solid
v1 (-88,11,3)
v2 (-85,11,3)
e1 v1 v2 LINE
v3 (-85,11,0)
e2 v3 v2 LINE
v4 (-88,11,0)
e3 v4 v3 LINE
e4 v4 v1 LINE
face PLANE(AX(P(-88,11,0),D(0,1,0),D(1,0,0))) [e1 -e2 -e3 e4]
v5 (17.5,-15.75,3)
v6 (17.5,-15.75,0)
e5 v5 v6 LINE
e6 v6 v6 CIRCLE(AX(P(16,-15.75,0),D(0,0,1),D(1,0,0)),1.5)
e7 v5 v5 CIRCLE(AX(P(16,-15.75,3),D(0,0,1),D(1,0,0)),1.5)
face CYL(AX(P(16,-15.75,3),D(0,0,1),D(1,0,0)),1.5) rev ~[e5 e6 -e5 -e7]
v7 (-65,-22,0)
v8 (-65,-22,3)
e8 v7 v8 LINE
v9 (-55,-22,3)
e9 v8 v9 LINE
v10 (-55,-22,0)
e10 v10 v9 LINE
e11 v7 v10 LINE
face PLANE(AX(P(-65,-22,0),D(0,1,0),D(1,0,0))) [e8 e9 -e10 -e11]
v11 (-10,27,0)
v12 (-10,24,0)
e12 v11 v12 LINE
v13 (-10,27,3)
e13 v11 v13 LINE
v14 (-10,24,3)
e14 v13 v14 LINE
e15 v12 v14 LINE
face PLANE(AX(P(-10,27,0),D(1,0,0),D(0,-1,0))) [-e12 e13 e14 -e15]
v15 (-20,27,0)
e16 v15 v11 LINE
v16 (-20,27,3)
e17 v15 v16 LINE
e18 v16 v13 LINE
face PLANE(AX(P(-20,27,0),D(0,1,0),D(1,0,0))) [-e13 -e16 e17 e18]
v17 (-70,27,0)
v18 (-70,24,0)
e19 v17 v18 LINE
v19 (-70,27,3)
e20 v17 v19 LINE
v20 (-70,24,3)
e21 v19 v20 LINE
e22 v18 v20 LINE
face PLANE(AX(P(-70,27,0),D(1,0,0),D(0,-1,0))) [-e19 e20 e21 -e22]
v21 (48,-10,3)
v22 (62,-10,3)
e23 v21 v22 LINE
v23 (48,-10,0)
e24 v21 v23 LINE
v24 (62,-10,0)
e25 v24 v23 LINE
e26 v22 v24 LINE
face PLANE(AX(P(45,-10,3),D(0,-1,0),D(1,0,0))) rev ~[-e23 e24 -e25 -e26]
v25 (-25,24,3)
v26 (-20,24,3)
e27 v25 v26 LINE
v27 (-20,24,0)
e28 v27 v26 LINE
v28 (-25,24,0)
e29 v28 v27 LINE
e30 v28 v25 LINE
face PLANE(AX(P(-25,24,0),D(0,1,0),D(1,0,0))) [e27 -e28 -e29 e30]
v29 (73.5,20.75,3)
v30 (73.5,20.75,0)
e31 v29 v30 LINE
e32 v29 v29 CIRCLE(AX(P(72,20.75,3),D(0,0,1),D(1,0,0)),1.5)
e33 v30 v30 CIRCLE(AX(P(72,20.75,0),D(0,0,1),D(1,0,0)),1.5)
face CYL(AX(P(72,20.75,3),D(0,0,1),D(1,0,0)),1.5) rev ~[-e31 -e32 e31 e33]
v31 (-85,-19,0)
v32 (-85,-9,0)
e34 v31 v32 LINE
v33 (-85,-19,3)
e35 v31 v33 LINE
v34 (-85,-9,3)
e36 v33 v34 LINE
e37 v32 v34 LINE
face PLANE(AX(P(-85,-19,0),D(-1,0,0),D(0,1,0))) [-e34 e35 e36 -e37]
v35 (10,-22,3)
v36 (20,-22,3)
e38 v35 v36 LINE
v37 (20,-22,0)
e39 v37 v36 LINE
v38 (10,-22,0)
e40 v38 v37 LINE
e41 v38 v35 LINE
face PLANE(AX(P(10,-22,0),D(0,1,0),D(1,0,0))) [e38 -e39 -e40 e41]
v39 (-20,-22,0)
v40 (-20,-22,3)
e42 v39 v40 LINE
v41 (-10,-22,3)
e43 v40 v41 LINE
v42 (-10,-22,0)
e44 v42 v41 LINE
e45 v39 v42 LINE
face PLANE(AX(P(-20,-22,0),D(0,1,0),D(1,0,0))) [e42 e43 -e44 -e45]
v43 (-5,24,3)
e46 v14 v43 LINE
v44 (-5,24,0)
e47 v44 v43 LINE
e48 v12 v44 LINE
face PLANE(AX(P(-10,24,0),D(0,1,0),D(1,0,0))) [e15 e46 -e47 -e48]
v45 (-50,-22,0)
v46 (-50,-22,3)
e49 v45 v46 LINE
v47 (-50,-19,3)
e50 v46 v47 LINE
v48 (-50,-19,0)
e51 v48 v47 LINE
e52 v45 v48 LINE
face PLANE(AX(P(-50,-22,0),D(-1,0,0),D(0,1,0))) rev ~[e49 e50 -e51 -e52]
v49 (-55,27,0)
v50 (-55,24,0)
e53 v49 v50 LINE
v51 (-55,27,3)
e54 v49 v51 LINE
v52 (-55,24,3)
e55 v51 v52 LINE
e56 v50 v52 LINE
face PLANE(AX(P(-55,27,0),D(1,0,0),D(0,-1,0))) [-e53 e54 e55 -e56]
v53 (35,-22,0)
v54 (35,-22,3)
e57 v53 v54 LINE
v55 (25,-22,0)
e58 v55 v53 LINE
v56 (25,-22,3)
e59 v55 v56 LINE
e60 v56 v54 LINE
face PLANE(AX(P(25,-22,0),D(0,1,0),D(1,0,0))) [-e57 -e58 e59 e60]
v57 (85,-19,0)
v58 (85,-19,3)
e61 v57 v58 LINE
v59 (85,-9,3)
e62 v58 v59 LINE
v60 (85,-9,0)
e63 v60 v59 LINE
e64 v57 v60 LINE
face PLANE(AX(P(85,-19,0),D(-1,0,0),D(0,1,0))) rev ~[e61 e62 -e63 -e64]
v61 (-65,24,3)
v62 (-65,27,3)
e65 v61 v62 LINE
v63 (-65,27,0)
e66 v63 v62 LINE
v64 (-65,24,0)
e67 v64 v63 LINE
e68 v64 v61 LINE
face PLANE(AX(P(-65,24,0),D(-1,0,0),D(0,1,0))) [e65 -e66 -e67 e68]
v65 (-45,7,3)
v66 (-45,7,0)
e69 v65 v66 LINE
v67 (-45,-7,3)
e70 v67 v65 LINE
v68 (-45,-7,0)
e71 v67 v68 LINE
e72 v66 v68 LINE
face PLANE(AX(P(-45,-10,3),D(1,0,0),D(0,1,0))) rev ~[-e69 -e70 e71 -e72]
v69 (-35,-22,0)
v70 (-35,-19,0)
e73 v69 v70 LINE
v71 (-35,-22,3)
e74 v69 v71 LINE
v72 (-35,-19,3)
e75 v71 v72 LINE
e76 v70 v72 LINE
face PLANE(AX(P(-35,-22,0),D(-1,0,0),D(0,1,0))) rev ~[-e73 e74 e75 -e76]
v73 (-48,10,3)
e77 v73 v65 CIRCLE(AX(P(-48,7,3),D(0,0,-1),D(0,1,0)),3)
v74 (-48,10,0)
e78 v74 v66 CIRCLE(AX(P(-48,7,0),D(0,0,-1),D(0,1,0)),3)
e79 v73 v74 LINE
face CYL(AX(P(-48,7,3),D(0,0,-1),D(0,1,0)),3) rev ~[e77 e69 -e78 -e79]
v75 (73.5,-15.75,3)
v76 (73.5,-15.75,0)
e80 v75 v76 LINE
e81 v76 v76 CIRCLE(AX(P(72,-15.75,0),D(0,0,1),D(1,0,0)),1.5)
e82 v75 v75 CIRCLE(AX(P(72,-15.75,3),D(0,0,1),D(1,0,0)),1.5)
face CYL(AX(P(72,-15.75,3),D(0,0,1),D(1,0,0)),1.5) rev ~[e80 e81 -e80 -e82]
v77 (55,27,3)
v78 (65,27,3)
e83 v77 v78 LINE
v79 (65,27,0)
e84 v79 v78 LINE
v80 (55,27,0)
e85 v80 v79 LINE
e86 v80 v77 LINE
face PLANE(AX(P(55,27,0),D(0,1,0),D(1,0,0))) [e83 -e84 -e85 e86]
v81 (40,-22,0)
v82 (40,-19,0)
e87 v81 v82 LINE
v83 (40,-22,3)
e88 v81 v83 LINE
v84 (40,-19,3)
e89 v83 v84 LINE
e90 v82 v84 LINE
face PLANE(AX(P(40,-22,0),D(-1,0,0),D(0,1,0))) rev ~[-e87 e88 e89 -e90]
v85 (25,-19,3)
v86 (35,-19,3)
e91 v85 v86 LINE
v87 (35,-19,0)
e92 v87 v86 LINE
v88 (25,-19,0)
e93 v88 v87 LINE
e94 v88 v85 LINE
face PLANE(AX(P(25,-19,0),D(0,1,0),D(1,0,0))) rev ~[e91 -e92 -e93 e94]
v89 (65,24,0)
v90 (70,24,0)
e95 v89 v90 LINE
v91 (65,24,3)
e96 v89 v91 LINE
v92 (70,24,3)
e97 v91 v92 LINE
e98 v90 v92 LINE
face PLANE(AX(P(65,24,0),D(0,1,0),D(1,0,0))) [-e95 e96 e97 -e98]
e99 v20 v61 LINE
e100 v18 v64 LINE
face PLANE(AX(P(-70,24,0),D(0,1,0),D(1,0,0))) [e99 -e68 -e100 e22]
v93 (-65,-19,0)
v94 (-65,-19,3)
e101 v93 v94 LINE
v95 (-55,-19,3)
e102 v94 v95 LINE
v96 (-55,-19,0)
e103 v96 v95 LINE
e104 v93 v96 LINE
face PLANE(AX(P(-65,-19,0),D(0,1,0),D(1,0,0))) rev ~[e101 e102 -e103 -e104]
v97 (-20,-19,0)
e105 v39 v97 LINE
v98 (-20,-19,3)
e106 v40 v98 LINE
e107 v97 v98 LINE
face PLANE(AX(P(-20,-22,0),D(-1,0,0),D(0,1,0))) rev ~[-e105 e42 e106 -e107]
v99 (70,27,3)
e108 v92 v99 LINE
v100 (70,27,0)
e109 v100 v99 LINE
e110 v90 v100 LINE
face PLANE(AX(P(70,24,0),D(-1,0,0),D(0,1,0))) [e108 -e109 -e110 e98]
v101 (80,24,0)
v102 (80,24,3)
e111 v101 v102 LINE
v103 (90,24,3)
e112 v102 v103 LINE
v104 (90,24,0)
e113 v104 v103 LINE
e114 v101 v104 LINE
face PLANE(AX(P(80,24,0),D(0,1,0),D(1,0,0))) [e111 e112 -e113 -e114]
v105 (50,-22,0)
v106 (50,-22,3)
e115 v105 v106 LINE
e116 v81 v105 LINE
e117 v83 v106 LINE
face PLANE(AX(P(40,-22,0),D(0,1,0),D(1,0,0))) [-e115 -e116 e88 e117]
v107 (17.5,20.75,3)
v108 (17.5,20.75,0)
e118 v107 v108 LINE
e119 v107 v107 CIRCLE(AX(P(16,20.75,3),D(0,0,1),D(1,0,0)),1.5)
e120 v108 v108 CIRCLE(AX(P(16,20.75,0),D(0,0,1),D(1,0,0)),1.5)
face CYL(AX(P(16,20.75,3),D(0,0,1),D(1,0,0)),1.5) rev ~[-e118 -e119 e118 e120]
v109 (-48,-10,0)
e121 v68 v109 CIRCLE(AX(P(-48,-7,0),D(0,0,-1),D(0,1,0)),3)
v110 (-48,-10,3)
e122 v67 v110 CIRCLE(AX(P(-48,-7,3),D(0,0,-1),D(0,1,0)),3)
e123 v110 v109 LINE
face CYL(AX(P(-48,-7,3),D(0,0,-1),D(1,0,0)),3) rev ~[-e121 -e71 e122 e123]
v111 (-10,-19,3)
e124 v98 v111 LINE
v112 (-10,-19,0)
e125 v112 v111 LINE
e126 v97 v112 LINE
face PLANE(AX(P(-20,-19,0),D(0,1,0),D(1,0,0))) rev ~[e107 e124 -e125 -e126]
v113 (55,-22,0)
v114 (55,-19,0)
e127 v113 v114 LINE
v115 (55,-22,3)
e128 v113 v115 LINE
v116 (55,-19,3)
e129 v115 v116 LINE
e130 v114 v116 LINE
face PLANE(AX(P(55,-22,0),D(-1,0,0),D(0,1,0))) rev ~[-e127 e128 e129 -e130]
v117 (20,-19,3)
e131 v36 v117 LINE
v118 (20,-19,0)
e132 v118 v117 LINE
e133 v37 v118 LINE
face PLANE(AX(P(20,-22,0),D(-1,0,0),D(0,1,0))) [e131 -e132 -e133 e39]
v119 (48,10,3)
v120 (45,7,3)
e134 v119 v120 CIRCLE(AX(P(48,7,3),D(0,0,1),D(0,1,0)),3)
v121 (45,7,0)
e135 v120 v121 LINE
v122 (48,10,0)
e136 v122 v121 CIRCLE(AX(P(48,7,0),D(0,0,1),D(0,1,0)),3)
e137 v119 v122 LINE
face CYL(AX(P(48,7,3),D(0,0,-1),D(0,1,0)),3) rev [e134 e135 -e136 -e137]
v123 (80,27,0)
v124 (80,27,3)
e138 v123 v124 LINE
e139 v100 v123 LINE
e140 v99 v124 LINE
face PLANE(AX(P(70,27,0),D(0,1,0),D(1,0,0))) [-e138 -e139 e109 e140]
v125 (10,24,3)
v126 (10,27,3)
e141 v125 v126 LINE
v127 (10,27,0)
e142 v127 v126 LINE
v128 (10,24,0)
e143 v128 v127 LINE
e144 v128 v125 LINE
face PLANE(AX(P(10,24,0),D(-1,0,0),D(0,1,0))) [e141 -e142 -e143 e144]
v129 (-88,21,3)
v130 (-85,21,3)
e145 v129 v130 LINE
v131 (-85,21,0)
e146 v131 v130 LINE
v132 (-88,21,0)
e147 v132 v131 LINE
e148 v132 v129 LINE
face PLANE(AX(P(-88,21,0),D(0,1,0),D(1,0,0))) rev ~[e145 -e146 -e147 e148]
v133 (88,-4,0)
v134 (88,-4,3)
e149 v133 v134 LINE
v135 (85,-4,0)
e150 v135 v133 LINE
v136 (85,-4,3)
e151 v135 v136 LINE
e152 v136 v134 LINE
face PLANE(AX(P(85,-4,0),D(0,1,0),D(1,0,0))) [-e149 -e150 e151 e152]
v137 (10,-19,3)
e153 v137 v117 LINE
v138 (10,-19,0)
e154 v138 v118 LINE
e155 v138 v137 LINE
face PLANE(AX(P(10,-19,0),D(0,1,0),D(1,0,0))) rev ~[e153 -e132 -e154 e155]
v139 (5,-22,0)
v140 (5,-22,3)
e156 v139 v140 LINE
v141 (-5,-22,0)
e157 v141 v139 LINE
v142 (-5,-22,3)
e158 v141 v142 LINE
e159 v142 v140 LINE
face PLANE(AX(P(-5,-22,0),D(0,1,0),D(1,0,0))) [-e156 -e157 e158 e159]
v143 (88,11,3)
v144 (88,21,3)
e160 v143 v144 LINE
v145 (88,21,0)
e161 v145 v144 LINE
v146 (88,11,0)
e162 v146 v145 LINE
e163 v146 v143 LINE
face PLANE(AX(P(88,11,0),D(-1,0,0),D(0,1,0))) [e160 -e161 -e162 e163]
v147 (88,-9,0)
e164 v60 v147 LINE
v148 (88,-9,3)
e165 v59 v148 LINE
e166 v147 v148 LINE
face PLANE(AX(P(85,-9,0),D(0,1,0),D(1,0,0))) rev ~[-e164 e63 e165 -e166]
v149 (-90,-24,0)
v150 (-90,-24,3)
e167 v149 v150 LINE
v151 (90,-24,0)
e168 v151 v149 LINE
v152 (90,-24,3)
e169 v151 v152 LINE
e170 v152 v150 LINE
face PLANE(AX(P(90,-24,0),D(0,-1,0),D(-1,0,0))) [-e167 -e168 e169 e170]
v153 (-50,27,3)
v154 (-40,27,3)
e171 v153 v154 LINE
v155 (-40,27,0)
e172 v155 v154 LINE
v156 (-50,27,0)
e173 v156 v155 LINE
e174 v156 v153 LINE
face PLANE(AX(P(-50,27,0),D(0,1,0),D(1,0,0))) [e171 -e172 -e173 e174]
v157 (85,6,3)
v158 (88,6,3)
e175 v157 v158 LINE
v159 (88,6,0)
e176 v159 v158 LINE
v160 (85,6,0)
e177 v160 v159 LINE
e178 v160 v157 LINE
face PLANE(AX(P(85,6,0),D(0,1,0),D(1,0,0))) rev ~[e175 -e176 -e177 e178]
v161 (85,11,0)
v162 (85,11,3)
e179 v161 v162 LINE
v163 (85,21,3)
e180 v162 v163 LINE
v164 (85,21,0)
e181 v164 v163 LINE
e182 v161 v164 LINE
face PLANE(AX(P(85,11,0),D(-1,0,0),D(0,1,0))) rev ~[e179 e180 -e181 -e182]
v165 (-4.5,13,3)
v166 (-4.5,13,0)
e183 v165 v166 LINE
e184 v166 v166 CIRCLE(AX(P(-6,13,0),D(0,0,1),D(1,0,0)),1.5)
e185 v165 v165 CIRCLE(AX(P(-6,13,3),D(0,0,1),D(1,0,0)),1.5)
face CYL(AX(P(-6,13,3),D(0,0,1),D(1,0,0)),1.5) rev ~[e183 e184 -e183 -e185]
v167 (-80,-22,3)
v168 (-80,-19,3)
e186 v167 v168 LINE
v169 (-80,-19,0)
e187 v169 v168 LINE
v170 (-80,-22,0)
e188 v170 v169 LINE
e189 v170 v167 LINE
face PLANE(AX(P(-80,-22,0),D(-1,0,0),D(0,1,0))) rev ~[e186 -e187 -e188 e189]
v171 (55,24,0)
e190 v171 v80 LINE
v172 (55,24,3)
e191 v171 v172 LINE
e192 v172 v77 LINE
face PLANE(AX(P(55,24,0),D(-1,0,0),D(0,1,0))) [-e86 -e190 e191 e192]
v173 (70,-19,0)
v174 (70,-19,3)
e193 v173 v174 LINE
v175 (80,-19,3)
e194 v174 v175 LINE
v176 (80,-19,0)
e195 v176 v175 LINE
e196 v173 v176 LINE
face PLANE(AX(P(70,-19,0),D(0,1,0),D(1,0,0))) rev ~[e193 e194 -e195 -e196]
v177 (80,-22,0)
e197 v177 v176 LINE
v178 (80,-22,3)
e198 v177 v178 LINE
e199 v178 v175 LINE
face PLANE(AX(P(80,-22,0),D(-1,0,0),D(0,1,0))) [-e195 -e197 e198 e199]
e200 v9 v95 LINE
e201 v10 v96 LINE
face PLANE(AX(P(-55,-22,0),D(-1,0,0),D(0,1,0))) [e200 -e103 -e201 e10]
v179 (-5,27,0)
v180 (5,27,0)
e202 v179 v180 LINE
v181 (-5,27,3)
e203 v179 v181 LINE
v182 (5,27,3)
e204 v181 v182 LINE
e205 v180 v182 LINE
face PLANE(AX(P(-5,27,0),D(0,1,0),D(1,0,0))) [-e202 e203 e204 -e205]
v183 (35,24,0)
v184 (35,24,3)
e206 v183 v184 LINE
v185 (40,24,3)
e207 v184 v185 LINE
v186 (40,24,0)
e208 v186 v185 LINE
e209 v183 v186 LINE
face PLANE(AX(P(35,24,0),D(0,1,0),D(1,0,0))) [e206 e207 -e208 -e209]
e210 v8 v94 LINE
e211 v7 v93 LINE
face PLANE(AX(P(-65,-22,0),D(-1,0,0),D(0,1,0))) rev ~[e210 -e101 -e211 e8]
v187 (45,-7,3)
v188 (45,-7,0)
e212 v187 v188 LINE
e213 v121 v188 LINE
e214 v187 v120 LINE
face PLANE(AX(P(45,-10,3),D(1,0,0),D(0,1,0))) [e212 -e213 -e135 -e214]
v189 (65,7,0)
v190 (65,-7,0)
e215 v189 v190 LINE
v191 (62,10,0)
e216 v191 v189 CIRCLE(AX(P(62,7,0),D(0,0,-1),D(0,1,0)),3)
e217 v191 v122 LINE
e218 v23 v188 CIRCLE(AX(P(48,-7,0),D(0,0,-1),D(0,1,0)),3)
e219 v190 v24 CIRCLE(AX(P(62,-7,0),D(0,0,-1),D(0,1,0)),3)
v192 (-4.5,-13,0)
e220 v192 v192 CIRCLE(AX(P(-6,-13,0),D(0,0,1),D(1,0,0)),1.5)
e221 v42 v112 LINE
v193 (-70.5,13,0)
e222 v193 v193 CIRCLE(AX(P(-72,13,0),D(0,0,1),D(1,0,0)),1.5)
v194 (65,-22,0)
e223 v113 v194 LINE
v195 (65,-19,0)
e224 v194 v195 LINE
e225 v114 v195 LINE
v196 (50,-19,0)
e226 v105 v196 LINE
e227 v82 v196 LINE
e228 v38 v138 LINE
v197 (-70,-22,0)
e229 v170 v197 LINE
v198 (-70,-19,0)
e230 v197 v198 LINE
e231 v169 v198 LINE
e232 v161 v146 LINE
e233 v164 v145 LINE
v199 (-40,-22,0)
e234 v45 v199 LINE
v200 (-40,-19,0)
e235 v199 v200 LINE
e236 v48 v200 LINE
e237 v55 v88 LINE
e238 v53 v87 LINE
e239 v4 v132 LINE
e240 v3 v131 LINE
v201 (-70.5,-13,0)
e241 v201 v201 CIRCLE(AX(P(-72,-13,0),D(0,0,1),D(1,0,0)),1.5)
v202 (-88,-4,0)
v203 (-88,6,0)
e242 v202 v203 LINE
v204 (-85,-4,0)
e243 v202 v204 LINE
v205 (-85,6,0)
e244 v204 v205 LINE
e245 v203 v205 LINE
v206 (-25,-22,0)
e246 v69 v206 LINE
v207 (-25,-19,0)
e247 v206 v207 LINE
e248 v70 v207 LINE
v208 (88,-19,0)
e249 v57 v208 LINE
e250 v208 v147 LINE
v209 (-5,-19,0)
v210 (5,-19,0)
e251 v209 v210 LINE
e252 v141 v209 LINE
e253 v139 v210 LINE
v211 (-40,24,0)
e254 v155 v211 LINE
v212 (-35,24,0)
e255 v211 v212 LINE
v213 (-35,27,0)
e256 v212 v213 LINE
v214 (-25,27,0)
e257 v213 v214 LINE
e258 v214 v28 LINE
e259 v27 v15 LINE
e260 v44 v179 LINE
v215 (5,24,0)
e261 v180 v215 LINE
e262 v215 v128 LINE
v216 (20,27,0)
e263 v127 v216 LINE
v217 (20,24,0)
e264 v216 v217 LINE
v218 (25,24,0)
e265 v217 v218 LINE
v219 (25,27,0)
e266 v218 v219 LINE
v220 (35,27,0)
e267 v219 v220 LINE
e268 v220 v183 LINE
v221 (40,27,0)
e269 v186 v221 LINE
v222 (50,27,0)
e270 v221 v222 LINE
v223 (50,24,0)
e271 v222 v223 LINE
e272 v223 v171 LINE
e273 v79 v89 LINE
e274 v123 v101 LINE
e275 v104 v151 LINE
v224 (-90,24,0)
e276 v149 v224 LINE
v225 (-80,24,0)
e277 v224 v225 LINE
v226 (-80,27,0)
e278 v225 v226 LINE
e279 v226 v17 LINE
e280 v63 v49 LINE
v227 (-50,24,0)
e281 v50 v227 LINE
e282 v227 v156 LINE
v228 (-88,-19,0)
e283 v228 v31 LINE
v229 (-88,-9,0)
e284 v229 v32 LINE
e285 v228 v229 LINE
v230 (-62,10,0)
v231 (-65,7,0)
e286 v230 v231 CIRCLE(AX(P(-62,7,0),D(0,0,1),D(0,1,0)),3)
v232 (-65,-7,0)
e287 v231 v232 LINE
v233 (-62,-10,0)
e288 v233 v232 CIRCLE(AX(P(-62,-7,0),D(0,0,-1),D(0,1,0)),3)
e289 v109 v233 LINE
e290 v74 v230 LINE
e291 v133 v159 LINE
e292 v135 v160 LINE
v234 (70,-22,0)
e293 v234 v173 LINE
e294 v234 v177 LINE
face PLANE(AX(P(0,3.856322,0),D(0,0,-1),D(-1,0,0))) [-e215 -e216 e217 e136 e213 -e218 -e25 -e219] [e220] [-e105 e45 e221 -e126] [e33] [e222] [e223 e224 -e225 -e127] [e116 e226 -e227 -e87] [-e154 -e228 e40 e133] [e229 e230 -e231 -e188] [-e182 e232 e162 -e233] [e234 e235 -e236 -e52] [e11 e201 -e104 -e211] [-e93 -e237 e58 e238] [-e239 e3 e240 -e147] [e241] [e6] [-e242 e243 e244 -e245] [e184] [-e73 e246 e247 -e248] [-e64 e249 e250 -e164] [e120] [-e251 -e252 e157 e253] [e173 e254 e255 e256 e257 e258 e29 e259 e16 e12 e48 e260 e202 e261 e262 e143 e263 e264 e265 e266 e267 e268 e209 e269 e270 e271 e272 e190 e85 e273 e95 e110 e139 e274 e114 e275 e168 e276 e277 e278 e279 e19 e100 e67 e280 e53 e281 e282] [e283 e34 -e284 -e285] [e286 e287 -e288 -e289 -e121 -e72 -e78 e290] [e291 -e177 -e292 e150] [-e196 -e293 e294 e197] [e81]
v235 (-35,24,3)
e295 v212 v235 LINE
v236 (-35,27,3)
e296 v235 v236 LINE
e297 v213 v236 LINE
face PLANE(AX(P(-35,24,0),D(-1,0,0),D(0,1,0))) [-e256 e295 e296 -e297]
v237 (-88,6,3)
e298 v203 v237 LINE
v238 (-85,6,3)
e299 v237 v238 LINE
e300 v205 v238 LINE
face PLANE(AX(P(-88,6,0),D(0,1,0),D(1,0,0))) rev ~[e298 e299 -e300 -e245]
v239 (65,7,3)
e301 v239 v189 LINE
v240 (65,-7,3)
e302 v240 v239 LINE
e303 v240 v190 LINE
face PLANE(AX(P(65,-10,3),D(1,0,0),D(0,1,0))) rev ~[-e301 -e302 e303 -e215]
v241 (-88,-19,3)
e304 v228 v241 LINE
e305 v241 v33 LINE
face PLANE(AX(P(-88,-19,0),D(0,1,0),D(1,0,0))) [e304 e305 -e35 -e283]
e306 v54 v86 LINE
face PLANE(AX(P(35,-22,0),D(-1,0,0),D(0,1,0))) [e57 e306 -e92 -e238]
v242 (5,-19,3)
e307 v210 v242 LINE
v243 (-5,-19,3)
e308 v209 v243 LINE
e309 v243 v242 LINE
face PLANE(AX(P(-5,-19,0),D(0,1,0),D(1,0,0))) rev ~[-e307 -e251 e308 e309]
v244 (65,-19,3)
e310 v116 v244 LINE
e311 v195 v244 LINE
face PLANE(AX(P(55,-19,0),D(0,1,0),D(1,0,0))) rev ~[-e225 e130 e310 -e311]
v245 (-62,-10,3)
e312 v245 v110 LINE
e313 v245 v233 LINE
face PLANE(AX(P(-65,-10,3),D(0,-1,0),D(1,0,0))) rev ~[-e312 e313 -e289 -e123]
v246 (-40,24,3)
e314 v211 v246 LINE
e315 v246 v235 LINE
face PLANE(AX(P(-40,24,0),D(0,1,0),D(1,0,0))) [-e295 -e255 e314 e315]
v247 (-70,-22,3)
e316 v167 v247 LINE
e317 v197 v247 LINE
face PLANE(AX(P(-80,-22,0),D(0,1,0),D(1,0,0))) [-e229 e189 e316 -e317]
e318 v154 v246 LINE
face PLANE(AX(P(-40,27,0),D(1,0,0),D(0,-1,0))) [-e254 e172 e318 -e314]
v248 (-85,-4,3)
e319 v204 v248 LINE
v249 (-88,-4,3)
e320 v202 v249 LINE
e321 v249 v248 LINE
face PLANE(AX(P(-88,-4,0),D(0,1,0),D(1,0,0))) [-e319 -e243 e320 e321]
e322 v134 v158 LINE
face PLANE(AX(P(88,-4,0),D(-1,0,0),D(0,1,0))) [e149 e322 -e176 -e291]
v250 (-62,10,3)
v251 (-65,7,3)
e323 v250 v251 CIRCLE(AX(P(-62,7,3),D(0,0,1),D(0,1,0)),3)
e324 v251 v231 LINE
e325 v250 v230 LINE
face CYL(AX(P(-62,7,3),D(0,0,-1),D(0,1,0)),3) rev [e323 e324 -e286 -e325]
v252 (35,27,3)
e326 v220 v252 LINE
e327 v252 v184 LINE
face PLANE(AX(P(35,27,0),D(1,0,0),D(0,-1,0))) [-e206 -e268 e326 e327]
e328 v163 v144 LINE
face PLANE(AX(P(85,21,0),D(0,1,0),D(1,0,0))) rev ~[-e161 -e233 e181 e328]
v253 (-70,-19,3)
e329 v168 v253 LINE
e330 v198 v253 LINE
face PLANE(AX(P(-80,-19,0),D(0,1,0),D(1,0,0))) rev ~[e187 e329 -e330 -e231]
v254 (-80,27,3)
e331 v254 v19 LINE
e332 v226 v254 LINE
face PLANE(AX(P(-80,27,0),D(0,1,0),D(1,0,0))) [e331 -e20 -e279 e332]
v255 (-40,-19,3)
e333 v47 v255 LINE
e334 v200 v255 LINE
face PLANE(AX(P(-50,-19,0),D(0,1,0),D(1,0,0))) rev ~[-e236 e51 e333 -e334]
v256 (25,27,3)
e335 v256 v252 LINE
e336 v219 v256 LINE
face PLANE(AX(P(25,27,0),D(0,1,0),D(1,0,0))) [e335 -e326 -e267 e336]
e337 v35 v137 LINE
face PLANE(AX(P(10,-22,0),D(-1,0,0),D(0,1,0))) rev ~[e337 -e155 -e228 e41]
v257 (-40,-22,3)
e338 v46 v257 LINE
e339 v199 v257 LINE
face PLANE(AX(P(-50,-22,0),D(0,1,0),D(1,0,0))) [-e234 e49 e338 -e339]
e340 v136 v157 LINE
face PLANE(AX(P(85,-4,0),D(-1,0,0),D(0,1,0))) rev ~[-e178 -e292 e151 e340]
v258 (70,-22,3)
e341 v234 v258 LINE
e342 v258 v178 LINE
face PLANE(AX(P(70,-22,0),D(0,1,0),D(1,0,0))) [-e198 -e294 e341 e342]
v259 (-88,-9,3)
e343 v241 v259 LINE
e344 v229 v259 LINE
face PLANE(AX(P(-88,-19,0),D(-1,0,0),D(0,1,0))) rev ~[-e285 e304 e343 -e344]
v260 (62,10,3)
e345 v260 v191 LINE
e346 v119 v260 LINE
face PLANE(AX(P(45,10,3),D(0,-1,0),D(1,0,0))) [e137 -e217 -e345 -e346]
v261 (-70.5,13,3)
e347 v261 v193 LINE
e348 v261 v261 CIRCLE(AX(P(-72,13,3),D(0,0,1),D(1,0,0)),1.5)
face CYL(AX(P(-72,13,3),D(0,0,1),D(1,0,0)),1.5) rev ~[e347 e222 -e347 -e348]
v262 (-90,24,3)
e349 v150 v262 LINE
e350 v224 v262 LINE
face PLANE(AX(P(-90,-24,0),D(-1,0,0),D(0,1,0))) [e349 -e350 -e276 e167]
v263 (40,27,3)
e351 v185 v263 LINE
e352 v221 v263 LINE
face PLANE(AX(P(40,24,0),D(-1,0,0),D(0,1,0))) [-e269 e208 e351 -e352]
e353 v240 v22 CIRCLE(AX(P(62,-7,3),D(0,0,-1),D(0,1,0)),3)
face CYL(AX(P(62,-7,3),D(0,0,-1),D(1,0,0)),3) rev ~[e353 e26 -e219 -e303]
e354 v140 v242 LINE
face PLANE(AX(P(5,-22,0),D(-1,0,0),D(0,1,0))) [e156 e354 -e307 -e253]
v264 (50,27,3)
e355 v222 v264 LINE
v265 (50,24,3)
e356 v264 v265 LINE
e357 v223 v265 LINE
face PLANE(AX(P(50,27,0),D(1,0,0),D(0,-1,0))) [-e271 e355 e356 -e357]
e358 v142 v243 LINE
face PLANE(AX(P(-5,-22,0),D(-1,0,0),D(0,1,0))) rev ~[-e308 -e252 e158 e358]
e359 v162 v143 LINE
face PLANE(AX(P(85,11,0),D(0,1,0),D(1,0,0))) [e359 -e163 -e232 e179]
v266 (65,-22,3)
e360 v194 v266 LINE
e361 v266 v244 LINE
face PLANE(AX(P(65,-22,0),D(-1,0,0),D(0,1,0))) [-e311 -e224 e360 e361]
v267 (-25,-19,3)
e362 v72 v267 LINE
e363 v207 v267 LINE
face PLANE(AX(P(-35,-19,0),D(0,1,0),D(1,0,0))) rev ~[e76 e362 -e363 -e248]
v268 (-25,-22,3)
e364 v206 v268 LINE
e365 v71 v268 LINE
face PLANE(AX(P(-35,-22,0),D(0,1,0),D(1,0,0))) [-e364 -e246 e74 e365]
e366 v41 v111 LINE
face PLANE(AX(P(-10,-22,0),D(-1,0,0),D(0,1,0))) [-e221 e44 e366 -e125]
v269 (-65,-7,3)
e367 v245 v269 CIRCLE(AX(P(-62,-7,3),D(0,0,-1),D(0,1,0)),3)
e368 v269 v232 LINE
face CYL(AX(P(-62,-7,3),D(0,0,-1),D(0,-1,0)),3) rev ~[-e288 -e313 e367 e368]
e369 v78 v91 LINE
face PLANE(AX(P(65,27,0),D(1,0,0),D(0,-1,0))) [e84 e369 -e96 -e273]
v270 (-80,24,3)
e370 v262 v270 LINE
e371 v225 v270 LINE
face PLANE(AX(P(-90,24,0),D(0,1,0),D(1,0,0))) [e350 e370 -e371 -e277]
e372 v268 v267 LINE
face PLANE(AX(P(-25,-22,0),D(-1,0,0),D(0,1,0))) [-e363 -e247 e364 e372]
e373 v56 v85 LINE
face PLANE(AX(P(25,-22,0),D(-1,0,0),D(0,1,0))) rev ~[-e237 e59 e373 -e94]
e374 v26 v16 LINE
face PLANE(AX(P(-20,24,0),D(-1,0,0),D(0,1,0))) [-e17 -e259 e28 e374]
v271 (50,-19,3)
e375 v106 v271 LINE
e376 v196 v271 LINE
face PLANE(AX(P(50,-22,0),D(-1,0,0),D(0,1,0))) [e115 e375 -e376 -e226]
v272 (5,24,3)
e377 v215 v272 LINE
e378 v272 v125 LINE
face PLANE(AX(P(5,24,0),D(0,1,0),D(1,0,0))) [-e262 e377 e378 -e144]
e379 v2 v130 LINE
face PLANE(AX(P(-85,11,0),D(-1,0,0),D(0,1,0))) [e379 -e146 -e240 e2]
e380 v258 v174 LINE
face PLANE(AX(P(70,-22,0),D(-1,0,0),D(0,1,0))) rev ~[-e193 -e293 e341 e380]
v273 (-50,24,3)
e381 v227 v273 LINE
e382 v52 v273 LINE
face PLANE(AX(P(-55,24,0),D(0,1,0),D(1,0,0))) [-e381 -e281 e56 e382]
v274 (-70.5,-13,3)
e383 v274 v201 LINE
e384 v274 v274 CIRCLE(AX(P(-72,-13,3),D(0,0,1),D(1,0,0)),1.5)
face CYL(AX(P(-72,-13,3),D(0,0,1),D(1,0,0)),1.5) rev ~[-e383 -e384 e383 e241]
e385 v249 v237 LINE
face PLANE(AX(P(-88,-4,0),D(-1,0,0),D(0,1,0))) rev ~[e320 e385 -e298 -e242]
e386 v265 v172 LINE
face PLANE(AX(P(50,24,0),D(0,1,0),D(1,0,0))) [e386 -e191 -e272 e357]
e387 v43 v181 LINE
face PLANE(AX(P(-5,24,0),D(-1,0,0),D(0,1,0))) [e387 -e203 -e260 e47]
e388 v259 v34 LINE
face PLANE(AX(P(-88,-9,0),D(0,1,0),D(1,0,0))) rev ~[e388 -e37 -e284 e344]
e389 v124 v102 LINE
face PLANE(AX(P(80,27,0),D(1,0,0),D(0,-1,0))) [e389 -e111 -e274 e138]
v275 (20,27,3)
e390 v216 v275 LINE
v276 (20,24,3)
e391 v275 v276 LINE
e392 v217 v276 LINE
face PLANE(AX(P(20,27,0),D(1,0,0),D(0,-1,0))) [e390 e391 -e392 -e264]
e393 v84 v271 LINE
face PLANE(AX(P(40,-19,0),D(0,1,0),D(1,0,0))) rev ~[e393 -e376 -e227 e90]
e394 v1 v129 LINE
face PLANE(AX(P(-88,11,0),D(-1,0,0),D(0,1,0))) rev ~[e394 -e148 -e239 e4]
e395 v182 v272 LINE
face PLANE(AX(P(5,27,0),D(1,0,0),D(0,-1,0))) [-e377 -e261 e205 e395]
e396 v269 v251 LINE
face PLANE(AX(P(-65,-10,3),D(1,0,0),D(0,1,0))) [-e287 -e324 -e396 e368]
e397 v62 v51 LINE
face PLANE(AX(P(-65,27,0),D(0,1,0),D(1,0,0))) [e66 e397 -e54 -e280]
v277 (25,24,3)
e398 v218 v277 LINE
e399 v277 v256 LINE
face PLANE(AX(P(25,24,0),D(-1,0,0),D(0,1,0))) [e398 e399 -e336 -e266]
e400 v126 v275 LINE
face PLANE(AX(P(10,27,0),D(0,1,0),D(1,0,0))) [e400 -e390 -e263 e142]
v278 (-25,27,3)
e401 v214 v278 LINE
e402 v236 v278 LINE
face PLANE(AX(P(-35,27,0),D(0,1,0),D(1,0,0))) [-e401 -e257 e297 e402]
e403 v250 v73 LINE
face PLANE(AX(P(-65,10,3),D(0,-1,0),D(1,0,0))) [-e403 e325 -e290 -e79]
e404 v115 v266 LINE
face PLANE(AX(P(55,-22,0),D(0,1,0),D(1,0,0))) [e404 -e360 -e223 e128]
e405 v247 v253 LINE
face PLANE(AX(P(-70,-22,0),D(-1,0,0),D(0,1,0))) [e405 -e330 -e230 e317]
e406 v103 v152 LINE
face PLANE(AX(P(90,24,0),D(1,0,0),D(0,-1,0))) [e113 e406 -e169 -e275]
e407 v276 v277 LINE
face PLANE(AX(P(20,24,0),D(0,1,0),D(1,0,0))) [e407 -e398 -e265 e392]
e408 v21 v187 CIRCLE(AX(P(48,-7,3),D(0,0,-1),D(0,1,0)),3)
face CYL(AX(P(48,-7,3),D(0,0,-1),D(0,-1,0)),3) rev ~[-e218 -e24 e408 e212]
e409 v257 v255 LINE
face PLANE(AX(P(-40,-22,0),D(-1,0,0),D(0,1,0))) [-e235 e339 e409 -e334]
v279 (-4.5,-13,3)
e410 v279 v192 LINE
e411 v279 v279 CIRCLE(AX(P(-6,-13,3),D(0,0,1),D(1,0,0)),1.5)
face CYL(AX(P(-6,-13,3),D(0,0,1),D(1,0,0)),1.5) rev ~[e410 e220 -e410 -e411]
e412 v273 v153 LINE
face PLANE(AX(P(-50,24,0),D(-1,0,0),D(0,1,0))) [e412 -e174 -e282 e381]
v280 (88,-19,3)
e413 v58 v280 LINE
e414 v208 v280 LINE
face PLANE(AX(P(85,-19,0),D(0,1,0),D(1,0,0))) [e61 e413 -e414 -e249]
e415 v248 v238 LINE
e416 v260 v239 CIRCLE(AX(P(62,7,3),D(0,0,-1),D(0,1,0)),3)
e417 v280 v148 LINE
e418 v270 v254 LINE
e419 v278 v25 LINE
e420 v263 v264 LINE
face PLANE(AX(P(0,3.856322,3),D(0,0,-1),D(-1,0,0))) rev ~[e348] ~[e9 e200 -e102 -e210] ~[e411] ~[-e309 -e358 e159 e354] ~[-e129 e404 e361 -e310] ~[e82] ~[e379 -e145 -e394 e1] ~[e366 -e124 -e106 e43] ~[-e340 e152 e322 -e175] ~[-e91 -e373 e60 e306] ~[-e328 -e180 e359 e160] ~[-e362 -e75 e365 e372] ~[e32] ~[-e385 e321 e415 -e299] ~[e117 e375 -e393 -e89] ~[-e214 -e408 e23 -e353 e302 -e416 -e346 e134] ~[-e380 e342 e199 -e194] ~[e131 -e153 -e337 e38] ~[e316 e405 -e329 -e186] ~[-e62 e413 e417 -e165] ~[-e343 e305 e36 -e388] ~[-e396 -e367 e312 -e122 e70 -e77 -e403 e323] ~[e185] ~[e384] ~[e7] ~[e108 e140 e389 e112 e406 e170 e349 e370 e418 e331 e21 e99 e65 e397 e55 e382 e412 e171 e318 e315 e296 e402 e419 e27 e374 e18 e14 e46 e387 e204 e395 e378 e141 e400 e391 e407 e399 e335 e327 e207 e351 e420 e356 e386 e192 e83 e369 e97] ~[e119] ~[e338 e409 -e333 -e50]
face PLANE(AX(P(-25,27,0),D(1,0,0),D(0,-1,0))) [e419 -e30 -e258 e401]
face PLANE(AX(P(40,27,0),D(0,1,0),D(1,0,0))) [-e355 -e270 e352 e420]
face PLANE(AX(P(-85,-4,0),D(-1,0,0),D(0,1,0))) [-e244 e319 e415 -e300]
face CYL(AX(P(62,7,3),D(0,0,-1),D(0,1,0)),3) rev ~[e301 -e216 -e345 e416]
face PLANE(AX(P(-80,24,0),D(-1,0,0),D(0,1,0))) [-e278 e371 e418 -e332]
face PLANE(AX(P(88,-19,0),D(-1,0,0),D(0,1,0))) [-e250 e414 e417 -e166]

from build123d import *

# Parameters (mm, degrees)
SKETCH_1_W          = 3
SKETCH_1_H          = 10
SKETCH_1_W_2        = 10
SKETCH_1_H_2        = 3
EXTRUDE_1_DEPTH     = 3
SKETCH_2_W          = 20
SKETCH_2_H          = 20
CUT_EXTRUDE_1_DEPTH = 10
FILLET_1_R          = 3
SKETCH_3_R          = 1.5
CUT_EXTRUDE_2_DEPTH = 10


with BuildPart() as part:
    # 草图1 → 凸台-拉伸1 (new body)
    with BuildSketch(Plane.XY):
        Polygon((-90, 24), (-80, 24), (-80, 27), (-70, 27), (-70, 24), (-65, 24), (-65, 27), (-55, 27), (-55, 24), (-50, 24), (-50, 27), (-40, 27), (-40, 24), (-35, 24), (-35, 27), (-25, 27), (-25, 24), (-20, 24), (-20, 27), (-10, 27), (-10, 24), (-5, 24), (-5, 27), (5, 27), (5, 24), (10, 24), (10, 27), (20, 27), (20, 24), (25, 24), (25, 27), (35, 27), (35, 24), (40, 24), (40, 27), (50, 27), (50, 24), (55, 24), (55, 27), (65, 27), (65, 24), (70, 24), (70, 27), (80, 27), (80, 24), (90, 24), (90, -24), (-90, -24), align=None)
        with Locations((-86.5, 1)):
            Rectangle(SKETCH_1_W, SKETCH_1_H, mode=Mode.SUBTRACT)
        with Locations((-86.5, 16)):
            Rectangle(SKETCH_1_W, SKETCH_1_H, mode=Mode.SUBTRACT)
        with Locations((-86.5, -14)):
            Rectangle(SKETCH_1_W, SKETCH_1_H, mode=Mode.SUBTRACT)
        with Locations((86.5, -14)):
            Rectangle(SKETCH_1_W, SKETCH_1_H, mode=Mode.SUBTRACT)
        with Locations((86.5, 1)):
            Rectangle(SKETCH_1_W, SKETCH_1_H, mode=Mode.SUBTRACT)
        with Locations((86.5, 16)):
            Rectangle(SKETCH_1_W, SKETCH_1_H, mode=Mode.SUBTRACT)
        with Locations((-60, -20.5)):
            Rectangle(SKETCH_1_W_2, SKETCH_1_H_2, mode=Mode.SUBTRACT)
        with Locations((-75, -20.5)):
            Rectangle(SKETCH_1_W_2, SKETCH_1_H_2, mode=Mode.SUBTRACT)
        with Locations((-45, -20.5)):
            Rectangle(SKETCH_1_W_2, SKETCH_1_H_2, mode=Mode.SUBTRACT)
        with Locations((-30, -20.5)):
            Rectangle(SKETCH_1_W_2, SKETCH_1_H_2, mode=Mode.SUBTRACT)
        with Locations((-15, -20.5)):
            Rectangle(SKETCH_1_W_2, SKETCH_1_H_2, mode=Mode.SUBTRACT)
        with Locations((0, -20.5)):
            Rectangle(SKETCH_1_W_2, SKETCH_1_H_2, mode=Mode.SUBTRACT)
        with Locations((15, -20.5)):
            Rectangle(SKETCH_1_W_2, SKETCH_1_H_2, mode=Mode.SUBTRACT)
        with Locations((30, -20.5)):
            Rectangle(SKETCH_1_W_2, SKETCH_1_H_2, mode=Mode.SUBTRACT)
        with Locations((45, -20.5)):
            Rectangle(SKETCH_1_W_2, SKETCH_1_H_2, mode=Mode.SUBTRACT)
        with Locations((60, -20.5)):
            Rectangle(SKETCH_1_W_2, SKETCH_1_H_2, mode=Mode.SUBTRACT)
        with Locations((75, -20.5)):
            Rectangle(SKETCH_1_W_2, SKETCH_1_H_2, mode=Mode.SUBTRACT)
    extrude(amount=EXTRUDE_1_DEPTH)

    # 草图2 → 切除-拉伸1 (cut)
    with BuildSketch(Plane.XY.offset(3)):
        with Locations((55, 0)):
            Rectangle(SKETCH_2_W, SKETCH_2_H)
        with Locations((-55, 0)):
            Rectangle(SKETCH_2_W, SKETCH_2_H)
    extrude(amount=-CUT_EXTRUDE_1_DEPTH, mode=Mode.SUBTRACT)

    # 圆角1
    fillet_1_edges = [part.edges().sort_by_distance(p)[0] for p in [
        (65, 10, 1.5),
        (65, -10, 1.5),
        (45, -10, 1.5),
        (45, 10, 1.5),
        (-45, 10, 1.5),
        (-45, -10, 1.5),
        (-65, -10, 1.5),
        (-65, 10, 1.5),
    ]]
    fillet(fillet_1_edges, radius=FILLET_1_R)

    # 草图3 → 切除-拉伸2 (cut)
    with BuildSketch(Plane.XY.offset(3)):
        with Locations((-72, 13)):
            Circle(SKETCH_3_R)
        with Locations((-6, 13)):
            Circle(SKETCH_3_R)
        with Locations((-72, -13)):
            Circle(SKETCH_3_R)
        with Locations((-6, -13)):
            Circle(SKETCH_3_R)
        with Locations((16, 20.75)):
            Circle(SKETCH_3_R)
        with Locations((16, -15.75)):
            Circle(SKETCH_3_R)
        with Locations((72, 20.75)):
            Circle(SKETCH_3_R)
        with Locations((72, -15.75)):
            Circle(SKETCH_3_R)
    extrude(amount=-CUT_EXTRUDE_2_DEPTH, mode=Mode.SUBTRACT)


solid = part.part
